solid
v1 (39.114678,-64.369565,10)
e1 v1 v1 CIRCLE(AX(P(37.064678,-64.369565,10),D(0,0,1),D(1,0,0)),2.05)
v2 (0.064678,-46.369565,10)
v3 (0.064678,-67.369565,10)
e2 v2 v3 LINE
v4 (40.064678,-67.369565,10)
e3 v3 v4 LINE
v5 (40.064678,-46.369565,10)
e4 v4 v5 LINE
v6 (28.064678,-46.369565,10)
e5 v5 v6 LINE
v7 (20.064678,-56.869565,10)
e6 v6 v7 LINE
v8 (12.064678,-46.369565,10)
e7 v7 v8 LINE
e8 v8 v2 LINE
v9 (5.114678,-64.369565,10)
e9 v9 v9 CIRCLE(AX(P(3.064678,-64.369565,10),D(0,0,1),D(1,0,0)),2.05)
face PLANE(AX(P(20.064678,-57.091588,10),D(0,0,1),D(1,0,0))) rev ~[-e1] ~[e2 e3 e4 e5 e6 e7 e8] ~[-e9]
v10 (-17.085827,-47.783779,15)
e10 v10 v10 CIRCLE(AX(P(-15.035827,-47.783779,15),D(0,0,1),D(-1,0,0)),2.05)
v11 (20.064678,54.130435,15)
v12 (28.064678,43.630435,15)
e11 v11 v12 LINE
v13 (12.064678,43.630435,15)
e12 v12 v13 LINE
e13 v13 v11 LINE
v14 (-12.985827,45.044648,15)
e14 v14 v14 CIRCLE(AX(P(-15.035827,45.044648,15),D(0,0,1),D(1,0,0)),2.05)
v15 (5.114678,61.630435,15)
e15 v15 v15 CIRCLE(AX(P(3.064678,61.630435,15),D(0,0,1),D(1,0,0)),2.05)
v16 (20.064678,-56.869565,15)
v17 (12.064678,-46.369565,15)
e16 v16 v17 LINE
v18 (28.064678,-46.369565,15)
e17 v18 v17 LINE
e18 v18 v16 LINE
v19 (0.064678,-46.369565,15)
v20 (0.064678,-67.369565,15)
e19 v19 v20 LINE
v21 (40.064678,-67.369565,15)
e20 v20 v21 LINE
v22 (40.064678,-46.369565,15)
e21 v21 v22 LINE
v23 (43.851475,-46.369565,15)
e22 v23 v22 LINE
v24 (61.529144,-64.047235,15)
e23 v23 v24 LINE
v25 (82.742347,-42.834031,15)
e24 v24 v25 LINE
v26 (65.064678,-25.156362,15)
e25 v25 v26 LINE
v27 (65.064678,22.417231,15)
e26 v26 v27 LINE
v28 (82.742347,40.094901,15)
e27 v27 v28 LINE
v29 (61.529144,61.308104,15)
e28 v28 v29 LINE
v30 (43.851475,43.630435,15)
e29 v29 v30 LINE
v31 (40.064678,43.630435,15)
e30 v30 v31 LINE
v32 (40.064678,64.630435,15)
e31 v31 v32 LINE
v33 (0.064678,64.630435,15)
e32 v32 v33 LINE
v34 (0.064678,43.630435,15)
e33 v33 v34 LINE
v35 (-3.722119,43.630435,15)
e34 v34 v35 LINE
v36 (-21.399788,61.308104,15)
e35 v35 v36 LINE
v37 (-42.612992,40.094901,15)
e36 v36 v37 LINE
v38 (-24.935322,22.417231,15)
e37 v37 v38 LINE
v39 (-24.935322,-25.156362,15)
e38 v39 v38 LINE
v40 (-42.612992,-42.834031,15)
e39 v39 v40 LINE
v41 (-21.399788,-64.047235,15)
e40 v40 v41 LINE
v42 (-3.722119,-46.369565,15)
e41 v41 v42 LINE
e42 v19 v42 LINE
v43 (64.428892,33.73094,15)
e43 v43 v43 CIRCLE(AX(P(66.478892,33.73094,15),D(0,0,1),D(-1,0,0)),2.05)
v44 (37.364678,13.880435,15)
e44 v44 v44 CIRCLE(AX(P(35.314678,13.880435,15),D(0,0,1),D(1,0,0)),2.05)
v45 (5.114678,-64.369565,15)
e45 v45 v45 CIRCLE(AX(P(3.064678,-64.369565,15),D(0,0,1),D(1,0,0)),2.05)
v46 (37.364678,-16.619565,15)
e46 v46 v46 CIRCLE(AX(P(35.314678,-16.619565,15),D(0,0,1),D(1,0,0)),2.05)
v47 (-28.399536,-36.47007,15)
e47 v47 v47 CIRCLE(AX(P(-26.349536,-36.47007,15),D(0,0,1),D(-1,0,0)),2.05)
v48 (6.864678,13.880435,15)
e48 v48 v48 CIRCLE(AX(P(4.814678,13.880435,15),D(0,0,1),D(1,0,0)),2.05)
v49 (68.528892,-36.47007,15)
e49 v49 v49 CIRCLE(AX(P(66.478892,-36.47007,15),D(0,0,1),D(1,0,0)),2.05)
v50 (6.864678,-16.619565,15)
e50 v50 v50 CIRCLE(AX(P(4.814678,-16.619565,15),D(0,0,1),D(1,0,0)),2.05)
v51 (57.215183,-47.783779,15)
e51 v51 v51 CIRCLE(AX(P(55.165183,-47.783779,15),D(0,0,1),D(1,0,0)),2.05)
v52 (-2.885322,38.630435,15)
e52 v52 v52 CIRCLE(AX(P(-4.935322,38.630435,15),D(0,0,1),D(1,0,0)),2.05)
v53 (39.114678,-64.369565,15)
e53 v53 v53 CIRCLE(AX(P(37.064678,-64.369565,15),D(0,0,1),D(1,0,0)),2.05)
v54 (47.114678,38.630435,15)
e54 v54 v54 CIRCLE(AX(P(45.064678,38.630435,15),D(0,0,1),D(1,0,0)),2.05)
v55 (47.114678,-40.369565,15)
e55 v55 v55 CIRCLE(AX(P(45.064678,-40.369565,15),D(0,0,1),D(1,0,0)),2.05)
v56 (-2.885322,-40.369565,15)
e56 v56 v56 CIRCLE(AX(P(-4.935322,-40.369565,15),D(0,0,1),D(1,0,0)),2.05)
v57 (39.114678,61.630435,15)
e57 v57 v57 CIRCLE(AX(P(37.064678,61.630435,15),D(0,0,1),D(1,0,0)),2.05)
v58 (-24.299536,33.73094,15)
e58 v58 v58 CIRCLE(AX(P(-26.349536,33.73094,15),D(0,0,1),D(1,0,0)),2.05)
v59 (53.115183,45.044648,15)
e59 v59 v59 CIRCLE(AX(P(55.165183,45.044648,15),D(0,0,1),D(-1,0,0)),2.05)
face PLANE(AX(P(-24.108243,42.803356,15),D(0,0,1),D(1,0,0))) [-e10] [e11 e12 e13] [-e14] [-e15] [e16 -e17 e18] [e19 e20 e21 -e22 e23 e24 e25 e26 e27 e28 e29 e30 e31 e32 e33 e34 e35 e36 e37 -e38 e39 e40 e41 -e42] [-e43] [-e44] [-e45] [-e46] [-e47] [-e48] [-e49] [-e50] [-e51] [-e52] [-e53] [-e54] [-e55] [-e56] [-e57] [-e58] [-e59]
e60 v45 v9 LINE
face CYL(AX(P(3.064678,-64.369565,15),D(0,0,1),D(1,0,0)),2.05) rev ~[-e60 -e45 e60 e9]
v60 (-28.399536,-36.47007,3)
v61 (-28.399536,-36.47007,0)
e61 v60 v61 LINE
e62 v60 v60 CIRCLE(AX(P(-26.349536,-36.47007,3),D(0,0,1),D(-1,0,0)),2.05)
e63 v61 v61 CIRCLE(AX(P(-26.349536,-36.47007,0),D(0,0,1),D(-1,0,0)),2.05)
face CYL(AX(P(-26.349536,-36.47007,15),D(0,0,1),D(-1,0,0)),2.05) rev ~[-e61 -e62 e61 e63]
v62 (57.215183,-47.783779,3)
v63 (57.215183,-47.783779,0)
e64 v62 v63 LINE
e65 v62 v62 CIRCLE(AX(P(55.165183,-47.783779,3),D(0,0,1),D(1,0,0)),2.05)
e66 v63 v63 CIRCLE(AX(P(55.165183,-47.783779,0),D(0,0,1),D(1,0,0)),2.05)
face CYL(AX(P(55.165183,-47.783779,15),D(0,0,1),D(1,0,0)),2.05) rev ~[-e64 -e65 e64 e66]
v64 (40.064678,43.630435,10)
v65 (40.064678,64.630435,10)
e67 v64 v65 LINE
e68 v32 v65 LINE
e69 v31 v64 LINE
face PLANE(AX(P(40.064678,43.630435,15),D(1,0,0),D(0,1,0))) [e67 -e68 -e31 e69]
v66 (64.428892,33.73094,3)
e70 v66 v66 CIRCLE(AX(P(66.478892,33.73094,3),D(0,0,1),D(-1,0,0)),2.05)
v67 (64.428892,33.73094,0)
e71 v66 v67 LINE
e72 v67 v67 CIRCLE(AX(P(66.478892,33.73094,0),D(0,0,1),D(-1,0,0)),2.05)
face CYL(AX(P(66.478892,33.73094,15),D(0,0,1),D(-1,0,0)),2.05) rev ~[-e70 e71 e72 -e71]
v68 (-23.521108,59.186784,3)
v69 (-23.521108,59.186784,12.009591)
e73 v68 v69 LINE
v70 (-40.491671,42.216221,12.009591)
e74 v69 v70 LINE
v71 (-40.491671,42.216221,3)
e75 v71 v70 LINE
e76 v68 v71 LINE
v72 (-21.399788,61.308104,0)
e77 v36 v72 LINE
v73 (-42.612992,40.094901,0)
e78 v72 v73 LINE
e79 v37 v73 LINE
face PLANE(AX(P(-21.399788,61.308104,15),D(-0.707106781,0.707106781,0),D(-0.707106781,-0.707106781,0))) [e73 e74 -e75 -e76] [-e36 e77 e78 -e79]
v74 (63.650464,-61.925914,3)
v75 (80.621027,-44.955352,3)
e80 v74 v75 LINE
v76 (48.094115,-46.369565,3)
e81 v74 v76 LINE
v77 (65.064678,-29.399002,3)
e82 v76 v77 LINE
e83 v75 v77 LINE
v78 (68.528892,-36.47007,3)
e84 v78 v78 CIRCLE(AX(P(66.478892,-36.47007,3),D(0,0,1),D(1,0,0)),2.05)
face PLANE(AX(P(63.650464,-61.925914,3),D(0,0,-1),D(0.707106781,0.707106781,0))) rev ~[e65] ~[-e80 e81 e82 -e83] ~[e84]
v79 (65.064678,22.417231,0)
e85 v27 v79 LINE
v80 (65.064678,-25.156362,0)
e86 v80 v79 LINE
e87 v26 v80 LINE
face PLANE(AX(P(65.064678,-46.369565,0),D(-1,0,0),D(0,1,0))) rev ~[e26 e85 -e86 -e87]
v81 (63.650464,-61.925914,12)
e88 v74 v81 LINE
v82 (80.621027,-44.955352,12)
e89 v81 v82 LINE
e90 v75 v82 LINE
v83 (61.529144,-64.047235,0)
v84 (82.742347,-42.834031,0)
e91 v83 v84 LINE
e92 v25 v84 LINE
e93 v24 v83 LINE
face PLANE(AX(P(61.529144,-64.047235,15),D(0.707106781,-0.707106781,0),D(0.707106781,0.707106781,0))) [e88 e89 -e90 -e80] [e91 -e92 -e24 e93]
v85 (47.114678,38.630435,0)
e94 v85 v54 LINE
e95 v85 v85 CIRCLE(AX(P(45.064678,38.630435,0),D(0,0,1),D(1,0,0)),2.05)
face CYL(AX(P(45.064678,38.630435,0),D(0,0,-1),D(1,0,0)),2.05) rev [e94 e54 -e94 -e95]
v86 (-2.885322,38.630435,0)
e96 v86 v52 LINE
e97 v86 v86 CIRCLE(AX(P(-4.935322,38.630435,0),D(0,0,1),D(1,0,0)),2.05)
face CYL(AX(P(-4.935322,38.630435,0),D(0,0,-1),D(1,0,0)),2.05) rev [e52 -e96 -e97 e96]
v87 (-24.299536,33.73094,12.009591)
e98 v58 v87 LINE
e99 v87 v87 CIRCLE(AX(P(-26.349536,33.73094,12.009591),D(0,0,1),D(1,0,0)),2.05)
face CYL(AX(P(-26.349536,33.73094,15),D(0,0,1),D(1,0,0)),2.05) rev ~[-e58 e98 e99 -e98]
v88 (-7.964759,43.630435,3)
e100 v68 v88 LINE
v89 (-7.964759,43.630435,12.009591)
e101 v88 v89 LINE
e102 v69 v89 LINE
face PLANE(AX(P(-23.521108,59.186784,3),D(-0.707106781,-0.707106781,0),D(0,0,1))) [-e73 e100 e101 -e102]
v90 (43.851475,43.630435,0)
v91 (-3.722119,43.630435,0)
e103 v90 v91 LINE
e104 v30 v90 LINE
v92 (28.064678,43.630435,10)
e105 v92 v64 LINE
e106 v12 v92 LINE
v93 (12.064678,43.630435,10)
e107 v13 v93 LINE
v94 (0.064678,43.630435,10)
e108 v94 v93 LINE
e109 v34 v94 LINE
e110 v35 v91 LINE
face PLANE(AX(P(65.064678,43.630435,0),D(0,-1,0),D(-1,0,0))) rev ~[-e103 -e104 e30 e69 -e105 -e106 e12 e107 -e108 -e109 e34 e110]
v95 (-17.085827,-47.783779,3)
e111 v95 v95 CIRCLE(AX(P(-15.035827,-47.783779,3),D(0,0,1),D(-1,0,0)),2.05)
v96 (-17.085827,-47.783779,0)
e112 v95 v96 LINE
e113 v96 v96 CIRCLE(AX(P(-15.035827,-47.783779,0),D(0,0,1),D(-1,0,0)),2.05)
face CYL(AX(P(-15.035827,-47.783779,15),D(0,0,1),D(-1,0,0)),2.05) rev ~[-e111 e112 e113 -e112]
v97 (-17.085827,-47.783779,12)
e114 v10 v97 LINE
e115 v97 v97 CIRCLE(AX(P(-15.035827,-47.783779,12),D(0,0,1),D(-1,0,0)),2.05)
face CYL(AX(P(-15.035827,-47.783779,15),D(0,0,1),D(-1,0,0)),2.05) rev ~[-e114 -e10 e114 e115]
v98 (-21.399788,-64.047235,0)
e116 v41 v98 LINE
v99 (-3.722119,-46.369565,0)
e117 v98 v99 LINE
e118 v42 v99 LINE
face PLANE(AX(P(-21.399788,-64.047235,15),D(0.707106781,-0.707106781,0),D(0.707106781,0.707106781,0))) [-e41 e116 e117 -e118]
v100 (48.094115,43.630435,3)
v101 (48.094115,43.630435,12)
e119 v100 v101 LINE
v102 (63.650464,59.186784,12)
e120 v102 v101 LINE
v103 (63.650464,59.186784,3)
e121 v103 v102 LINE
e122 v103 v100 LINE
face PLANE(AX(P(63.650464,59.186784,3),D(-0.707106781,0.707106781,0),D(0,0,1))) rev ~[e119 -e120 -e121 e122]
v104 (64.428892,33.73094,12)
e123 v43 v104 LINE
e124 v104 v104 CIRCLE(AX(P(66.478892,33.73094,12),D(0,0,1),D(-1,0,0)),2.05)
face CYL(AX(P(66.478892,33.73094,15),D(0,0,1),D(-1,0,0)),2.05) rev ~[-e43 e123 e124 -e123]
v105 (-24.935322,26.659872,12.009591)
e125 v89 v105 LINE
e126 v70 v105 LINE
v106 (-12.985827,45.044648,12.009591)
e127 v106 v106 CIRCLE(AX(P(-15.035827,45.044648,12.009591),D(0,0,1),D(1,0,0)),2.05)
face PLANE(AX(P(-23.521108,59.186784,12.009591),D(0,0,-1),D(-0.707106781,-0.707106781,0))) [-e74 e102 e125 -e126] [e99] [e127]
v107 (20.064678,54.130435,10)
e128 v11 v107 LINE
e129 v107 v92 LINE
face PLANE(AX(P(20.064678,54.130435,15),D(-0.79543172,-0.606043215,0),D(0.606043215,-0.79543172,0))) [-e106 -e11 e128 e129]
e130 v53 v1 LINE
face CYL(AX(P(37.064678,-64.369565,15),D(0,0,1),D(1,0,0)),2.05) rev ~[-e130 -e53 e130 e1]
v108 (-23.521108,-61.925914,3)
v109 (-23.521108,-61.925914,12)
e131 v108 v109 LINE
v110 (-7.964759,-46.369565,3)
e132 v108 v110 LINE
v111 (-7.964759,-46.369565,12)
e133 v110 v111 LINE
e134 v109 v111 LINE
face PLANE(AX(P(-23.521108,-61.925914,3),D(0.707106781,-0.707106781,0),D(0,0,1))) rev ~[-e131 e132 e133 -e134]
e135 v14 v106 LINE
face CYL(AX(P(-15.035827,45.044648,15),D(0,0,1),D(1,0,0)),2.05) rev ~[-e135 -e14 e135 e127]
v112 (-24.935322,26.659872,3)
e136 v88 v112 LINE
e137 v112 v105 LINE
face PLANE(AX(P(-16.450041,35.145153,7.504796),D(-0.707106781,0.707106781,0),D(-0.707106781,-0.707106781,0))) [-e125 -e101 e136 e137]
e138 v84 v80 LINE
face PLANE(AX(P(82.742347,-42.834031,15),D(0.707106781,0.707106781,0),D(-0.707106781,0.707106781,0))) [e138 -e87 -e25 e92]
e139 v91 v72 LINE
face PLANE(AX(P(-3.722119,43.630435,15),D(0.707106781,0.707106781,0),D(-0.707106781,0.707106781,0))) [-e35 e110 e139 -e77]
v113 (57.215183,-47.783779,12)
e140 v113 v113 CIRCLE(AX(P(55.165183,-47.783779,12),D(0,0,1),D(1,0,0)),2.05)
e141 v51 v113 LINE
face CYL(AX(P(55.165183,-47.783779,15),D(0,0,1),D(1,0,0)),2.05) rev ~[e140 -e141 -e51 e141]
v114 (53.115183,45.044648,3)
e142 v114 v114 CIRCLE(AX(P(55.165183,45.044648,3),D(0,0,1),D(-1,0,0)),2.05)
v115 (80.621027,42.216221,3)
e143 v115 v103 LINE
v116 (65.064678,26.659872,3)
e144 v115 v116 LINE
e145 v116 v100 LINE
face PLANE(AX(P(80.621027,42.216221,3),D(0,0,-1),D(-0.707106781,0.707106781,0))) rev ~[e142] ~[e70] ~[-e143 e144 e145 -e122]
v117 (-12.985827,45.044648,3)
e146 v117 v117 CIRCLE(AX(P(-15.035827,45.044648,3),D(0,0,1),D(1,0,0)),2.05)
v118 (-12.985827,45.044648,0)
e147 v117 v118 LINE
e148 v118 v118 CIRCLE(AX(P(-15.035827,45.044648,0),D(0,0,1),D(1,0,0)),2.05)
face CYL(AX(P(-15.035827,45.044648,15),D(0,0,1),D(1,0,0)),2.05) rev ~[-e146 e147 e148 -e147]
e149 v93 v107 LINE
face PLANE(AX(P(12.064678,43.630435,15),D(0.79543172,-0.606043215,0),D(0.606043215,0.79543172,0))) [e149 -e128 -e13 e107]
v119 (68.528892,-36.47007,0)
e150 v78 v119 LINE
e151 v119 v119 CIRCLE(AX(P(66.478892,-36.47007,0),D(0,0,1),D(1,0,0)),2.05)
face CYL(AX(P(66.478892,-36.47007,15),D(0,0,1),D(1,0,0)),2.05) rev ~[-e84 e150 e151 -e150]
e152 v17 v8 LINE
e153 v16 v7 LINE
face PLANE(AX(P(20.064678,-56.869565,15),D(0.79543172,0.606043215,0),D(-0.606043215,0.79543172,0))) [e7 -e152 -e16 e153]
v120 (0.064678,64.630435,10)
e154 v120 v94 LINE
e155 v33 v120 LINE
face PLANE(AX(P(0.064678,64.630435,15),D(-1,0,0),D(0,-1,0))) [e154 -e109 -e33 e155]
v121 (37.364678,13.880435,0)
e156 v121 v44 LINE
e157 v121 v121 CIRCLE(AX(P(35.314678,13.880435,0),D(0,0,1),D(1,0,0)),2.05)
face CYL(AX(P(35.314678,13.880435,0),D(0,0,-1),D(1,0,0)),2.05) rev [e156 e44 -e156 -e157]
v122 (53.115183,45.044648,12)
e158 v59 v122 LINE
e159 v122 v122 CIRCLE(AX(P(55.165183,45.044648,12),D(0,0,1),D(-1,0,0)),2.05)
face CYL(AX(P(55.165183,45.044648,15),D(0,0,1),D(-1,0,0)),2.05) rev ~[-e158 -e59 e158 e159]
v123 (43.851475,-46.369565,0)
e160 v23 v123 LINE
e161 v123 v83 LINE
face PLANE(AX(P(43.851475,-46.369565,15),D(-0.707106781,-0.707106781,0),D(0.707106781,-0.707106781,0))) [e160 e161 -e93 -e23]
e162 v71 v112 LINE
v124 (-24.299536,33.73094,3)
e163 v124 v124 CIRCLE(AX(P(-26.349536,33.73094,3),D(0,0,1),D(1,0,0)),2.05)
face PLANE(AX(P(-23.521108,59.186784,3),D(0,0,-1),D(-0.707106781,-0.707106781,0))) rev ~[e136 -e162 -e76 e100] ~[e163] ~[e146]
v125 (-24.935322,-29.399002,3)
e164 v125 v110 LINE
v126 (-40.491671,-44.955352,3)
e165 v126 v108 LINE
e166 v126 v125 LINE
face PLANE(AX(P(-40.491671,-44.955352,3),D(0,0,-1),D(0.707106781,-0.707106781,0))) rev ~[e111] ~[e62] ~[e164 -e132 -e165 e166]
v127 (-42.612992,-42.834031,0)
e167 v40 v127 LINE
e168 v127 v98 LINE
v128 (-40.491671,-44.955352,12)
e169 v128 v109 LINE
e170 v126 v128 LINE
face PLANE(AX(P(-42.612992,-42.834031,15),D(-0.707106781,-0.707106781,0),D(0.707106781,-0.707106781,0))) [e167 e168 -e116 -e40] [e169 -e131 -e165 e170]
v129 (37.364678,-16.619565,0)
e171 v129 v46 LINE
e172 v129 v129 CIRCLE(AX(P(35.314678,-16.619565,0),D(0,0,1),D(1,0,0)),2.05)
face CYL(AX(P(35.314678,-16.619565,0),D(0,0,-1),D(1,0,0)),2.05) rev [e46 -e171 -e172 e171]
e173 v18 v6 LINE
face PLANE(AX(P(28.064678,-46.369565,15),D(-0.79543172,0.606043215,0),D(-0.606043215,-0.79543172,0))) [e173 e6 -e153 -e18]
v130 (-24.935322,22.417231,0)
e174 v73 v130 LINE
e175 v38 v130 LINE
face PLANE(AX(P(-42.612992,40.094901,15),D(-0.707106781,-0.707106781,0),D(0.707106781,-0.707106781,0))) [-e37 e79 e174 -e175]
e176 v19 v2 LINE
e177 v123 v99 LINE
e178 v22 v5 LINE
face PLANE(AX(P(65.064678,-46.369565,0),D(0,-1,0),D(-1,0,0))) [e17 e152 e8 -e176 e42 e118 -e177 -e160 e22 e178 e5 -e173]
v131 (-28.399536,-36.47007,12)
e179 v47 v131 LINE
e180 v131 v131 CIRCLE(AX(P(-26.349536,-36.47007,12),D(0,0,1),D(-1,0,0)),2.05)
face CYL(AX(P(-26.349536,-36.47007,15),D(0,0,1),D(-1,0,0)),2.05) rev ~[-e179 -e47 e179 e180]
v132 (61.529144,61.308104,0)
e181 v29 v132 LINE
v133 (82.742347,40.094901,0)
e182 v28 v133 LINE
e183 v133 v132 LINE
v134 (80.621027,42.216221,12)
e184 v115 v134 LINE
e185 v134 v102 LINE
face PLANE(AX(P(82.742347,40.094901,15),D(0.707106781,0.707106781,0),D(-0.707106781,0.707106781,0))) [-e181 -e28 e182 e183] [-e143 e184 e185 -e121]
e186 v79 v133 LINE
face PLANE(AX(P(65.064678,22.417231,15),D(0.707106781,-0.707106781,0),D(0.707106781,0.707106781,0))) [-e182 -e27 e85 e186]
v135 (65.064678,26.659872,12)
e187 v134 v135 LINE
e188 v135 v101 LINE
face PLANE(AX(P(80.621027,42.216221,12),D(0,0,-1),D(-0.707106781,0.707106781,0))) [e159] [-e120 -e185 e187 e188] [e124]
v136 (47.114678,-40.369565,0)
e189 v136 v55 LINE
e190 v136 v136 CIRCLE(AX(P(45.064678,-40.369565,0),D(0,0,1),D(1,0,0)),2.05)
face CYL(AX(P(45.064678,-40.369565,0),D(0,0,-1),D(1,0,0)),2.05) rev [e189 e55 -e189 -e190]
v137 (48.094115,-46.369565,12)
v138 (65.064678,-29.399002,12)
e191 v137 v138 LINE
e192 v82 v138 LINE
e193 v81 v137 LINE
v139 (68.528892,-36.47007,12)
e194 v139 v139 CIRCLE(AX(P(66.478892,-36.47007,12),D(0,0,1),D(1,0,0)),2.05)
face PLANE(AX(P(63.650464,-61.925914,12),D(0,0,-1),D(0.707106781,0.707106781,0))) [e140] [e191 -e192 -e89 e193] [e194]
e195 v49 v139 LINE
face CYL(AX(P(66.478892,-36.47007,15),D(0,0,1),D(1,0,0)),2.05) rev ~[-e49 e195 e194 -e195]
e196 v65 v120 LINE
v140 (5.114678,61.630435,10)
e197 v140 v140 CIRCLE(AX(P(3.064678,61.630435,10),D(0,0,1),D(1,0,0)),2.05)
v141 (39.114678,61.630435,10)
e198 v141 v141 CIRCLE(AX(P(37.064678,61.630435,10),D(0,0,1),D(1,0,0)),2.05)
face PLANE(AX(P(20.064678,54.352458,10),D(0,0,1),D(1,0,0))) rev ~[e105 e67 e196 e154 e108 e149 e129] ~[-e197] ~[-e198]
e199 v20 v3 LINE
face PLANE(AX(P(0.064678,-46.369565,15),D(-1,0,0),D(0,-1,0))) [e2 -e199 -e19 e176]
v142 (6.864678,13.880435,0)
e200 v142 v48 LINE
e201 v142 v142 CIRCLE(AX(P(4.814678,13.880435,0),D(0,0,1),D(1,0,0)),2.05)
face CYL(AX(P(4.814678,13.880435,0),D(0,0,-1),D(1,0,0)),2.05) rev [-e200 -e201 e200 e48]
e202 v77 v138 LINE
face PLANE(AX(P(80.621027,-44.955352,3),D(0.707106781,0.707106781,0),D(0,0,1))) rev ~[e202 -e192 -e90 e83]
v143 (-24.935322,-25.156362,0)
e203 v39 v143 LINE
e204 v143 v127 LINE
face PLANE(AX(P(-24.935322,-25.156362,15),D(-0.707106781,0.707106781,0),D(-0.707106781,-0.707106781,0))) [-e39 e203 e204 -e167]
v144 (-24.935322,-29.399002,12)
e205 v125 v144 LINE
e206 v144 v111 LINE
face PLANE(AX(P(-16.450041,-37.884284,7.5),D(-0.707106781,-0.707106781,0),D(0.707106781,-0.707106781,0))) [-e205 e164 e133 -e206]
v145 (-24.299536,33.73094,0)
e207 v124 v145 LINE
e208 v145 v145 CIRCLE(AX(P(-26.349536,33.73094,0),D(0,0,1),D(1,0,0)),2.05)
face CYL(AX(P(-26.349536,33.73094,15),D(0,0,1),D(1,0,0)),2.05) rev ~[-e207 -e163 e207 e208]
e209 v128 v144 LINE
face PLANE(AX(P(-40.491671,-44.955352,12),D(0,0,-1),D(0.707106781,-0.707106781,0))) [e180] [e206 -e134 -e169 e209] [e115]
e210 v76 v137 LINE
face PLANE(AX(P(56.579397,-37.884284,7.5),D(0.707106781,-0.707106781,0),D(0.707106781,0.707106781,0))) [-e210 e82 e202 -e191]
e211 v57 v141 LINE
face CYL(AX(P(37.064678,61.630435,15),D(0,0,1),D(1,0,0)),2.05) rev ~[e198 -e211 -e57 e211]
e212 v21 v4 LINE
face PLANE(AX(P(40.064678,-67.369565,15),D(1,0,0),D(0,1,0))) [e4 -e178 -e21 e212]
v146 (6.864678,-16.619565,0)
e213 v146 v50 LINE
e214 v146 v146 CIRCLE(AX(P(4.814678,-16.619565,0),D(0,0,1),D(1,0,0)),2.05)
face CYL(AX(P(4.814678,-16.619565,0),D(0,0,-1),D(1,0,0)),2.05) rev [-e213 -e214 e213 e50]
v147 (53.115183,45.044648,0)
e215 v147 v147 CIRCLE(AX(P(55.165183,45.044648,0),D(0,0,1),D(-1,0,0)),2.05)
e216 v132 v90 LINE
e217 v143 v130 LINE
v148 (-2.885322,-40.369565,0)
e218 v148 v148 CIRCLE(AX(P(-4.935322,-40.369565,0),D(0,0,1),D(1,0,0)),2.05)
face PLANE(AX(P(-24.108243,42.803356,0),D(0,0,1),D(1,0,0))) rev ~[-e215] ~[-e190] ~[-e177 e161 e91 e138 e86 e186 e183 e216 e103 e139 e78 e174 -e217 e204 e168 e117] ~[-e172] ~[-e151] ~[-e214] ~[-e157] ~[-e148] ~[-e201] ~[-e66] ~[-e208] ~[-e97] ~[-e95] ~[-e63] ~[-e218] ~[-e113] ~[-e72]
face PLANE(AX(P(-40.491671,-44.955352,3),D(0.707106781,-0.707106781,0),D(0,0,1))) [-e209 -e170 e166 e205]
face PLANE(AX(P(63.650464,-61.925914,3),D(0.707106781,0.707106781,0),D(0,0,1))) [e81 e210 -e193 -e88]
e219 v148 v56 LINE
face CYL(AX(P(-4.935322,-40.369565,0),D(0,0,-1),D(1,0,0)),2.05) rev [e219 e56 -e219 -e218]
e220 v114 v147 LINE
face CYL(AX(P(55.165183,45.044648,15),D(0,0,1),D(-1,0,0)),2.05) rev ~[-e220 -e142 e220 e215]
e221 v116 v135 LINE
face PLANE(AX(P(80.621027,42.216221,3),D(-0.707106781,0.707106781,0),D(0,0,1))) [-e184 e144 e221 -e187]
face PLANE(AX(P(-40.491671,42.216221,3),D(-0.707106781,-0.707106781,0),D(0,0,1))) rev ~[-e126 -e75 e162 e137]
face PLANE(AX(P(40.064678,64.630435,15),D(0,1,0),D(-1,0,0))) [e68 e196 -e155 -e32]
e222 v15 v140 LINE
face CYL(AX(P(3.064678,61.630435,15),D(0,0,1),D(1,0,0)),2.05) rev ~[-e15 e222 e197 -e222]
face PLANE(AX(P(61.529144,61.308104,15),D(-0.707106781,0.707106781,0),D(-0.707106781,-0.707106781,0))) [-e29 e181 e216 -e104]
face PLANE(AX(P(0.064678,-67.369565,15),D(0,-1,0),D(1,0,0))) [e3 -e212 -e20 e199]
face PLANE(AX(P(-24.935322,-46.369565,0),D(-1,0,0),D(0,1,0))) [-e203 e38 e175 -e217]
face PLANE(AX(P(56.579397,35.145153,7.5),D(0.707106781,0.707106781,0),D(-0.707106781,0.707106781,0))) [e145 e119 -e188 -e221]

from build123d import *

# Parameters (mm, degrees)
SKETCH1_W           = 90
SKETCH1_H           = 90
SKETCH1_R           = 2.05
BOSS_EXTRUDE1_DEPTH = 15
BOSS_EXTRUDE2_DEPTH = 15
SKETCH4_R           = 2.05
CUT_EXTRUDE1_DEPTH  = 15
SKETCH6_W           = 24
SKETCH6_H           = 9.009591428
CUT_EXTRUDE2_DEPTH  = 22
SKETCH9_W           = 24
SKETCH9_H           = 9
CUT_EXTRUDE3_DEPTH  = 22
SKETCH7_W           = 24
SKETCH7_H           = 9
CUT_EXTRUDE4_DEPTH  = 22
SKETCH8_W           = 24
SKETCH8_H           = 9
CUT_EXTRUDE5_DEPTH  = 22
SKETCH10_R          = 2.05
BOSS_EXTRUDE3_DEPTH = 5


with BuildPart() as part:
    # Sketch1 → Boss-Extrude1 (new body)
    with BuildSketch(Plane(origin=(0, 0, 0), x_dir=(0, 1, 0), z_dir=(0, 0, 1))):
        with Locations((-1.369565217, -20.064677945)):
            Rectangle(SKETCH1_W, SKETCH1_H)
        with Locations(Location((-40.369565217, 4.935322055, 0), (0, 0, 270))):
            Circle(SKETCH1_R, mode=Mode.SUBTRACT)
        with Locations(Location((-40.369565217, -45.064677945, 0), (0, 0, 270))):
            Circle(SKETCH1_R, mode=Mode.SUBTRACT)
        with Locations(Location((38.630434783, 4.935322055, 0), (0, 0, 270))):
            Circle(SKETCH1_R, mode=Mode.SUBTRACT)
        with Locations(Location((38.630434783, -45.064677945, 0), (0, 0, 270))):
            Circle(SKETCH1_R, mode=Mode.SUBTRACT)
        with Locations(Location((13.880434783, -4.814677945, 0), (0, 0, 270))):
            Circle(SKETCH1_R, mode=Mode.SUBTRACT)
        with Locations(Location((-16.619565217, -4.814677945, 0), (0, 0, 270))):
            Circle(SKETCH1_R, mode=Mode.SUBTRACT)
        with Locations(Location((13.880434783, -35.314677945, 0), (0, 0, 270))):
            Circle(SKETCH1_R, mode=Mode.SUBTRACT)
        with Locations(Location((-16.619565217, -35.314677945, 0), (0, 0, 270))):
            Circle(SKETCH1_R, mode=Mode.SUBTRACT)
    extrude(amount=BOSS_EXTRUDE1_DEPTH)

    # Sketch2 → Boss-Extrude2 (add)
    with BuildSketch(Plane.XY.offset(15)):
        Polygon((-21.399788149, 61.308104312), (-42.612991584, 40.094900877), (-24.935322055, 22.417231347), (-24.935322055, 43.630434783), (-3.722118619, 43.630434783), align=None)
        Polygon((-24.935322055, -25.156361782), (-42.612991584, -42.834031311), (-21.399788149, -64.047234747), (-3.722118619, -46.369565217), (-24.935322055, -46.369565217), align=None)
        Polygon((61.529144039, 61.308104312), (43.85147451, 43.630434783), (65.064677945, 43.630434783), (65.064677945, 22.417231347), (82.742347475, 40.094900877), align=None)
        Polygon((43.85147451, -46.369565217), (61.529144039, -64.047234747), (82.742347475, -42.834031311), (65.064677945, -25.156361782), (65.064677945, -46.369565217), align=None)
    extrude(amount=-BOSS_EXTRUDE2_DEPTH)

    # Sketch4 → Cut-Extrude1 (cut)
    with BuildSketch(Plane.XY.offset(15)):
        with Locations((-26.349535617, 33.730939846)):
            Circle(SKETCH4_R)
        with Locations((-15.035827118, 45.044648345)):
            Circle(SKETCH4_R)
        with Locations(Location((66.478891508, 33.730939846, 0), (0, 0, 180))):
            Circle(SKETCH4_R)
        with Locations(Location((55.165183009, 45.044648345, 0), (0, 0, 180))):
            Circle(SKETCH4_R)
        with Locations((66.478891508, -36.470070281)):
            Circle(SKETCH4_R)
        with Locations((55.165183009, -47.78377878)):
            Circle(SKETCH4_R)
        with Locations(Location((-15.035827118, -47.78377878, 0), (0, 0, 180))):
            Circle(SKETCH4_R)
        with Locations(Location((-26.349535617, -36.470070281, 0), (0, 0, 180))):
            Circle(SKETCH4_R)
    extrude(amount=-CUT_EXTRUDE1_DEPTH, mode=Mode.SUBTRACT)

    # Sketch6 → Cut-Extrude2 (cut)
    with BuildSketch(Plane(origin=(-41.35394623, 41.35394623, 0), x_dir=(-0.7071067811865476, -0.7071067811865476, 0), z_dir=(-0.7071067811865476, 0.7071067811865476, 0))):
        with Locations((-13.219440985, 7.504795714)):
            Rectangle(SKETCH6_W, SKETCH6_H)
    extrude(amount=-CUT_EXTRUDE2_DEPTH, mode=Mode.SUBTRACT)

    # Sketch9 → Cut-Extrude3 (cut)
    with BuildSketch(Plane(origin=(61.418624176, 61.418624176, 0), x_dir=(-0.7071067811865479, 0.7071067811865472, 0), z_dir=(0.7071067811865472, 0.7071067811865479, 0))):
        with Locations((-15.15629869, 7.5)):
            Rectangle(SKETCH9_W, SKETCH9_H)
    extrude(amount=-CUT_EXTRUDE3_DEPTH, mode=Mode.SUBTRACT)

    # Sketch7 → Cut-Extrude4 (cut)
    with BuildSketch(Plane(origin=(-42.723511448, -42.723511448, 0), x_dir=(0.7071067811865483, -0.7071067811865468, 0), z_dir=(-0.7071067811865468, -0.7071067811865483, 0))):
        with Locations((15.15629869, 7.5)):
            Rectangle(SKETCH7_W, SKETCH7_H)
    extrude(amount=-CUT_EXTRUDE4_DEPTH, mode=Mode.SUBTRACT)

    # Sketch8 → Cut-Extrude5 (cut)
    with BuildSketch(Plane(origin=(62.788189393, -62.788189393, 0), x_dir=(0.7071067811865461, 0.707106781186549, 0), z_dir=(0.707106781186549, -0.7071067811865461, 0))):
        with Locations((13.219440985, 7.5)):
            Rectangle(SKETCH8_W, SKETCH8_H)
    extrude(amount=-CUT_EXTRUDE5_DEPTH, mode=Mode.SUBTRACT)

    # Sketch10 → Boss-Extrude3 (add)
    # profile 1 of 2: a face of its own
    with BuildSketch(Plane.XY.offset(15)):
        Polygon((40.064677945, 64.630434783), (0.064677945, 64.630434783), (0.064677945, 43.630434783), (12.064677945, 43.630434783), (20.064677945, 54.130434783), (28.064677945, 43.630434783), (40.064677945, 43.630434783), align=None)
        with Locations((3.064677945, 61.630434783)):
            Circle(SKETCH10_R, mode=Mode.SUBTRACT)
        with Locations((37.064677945, 61.630434783)):
            Circle(SKETCH10_R, mode=Mode.SUBTRACT)
    # profile 2 of 2: a face of its own
    with BuildSketch(Plane.XY.offset(15)):
        Polygon((12.064677945, -46.369565217), (0.064677945, -46.369565217), (0.064677945, -67.369565217), (40.064677945, -67.369565217), (40.064677945, -46.369565217), (28.064677945, -46.369565217), (20.064677945, -56.869565217), align=None)
        with Locations((3.064677945, -64.369565217)):
            Circle(SKETCH10_R, mode=Mode.SUBTRACT)
        with Locations((37.064677945, -64.369565217)):
            Circle(SKETCH10_R, mode=Mode.SUBTRACT)
    extrude(amount=-BOSS_EXTRUDE3_DEPTH)


solid = part.part
